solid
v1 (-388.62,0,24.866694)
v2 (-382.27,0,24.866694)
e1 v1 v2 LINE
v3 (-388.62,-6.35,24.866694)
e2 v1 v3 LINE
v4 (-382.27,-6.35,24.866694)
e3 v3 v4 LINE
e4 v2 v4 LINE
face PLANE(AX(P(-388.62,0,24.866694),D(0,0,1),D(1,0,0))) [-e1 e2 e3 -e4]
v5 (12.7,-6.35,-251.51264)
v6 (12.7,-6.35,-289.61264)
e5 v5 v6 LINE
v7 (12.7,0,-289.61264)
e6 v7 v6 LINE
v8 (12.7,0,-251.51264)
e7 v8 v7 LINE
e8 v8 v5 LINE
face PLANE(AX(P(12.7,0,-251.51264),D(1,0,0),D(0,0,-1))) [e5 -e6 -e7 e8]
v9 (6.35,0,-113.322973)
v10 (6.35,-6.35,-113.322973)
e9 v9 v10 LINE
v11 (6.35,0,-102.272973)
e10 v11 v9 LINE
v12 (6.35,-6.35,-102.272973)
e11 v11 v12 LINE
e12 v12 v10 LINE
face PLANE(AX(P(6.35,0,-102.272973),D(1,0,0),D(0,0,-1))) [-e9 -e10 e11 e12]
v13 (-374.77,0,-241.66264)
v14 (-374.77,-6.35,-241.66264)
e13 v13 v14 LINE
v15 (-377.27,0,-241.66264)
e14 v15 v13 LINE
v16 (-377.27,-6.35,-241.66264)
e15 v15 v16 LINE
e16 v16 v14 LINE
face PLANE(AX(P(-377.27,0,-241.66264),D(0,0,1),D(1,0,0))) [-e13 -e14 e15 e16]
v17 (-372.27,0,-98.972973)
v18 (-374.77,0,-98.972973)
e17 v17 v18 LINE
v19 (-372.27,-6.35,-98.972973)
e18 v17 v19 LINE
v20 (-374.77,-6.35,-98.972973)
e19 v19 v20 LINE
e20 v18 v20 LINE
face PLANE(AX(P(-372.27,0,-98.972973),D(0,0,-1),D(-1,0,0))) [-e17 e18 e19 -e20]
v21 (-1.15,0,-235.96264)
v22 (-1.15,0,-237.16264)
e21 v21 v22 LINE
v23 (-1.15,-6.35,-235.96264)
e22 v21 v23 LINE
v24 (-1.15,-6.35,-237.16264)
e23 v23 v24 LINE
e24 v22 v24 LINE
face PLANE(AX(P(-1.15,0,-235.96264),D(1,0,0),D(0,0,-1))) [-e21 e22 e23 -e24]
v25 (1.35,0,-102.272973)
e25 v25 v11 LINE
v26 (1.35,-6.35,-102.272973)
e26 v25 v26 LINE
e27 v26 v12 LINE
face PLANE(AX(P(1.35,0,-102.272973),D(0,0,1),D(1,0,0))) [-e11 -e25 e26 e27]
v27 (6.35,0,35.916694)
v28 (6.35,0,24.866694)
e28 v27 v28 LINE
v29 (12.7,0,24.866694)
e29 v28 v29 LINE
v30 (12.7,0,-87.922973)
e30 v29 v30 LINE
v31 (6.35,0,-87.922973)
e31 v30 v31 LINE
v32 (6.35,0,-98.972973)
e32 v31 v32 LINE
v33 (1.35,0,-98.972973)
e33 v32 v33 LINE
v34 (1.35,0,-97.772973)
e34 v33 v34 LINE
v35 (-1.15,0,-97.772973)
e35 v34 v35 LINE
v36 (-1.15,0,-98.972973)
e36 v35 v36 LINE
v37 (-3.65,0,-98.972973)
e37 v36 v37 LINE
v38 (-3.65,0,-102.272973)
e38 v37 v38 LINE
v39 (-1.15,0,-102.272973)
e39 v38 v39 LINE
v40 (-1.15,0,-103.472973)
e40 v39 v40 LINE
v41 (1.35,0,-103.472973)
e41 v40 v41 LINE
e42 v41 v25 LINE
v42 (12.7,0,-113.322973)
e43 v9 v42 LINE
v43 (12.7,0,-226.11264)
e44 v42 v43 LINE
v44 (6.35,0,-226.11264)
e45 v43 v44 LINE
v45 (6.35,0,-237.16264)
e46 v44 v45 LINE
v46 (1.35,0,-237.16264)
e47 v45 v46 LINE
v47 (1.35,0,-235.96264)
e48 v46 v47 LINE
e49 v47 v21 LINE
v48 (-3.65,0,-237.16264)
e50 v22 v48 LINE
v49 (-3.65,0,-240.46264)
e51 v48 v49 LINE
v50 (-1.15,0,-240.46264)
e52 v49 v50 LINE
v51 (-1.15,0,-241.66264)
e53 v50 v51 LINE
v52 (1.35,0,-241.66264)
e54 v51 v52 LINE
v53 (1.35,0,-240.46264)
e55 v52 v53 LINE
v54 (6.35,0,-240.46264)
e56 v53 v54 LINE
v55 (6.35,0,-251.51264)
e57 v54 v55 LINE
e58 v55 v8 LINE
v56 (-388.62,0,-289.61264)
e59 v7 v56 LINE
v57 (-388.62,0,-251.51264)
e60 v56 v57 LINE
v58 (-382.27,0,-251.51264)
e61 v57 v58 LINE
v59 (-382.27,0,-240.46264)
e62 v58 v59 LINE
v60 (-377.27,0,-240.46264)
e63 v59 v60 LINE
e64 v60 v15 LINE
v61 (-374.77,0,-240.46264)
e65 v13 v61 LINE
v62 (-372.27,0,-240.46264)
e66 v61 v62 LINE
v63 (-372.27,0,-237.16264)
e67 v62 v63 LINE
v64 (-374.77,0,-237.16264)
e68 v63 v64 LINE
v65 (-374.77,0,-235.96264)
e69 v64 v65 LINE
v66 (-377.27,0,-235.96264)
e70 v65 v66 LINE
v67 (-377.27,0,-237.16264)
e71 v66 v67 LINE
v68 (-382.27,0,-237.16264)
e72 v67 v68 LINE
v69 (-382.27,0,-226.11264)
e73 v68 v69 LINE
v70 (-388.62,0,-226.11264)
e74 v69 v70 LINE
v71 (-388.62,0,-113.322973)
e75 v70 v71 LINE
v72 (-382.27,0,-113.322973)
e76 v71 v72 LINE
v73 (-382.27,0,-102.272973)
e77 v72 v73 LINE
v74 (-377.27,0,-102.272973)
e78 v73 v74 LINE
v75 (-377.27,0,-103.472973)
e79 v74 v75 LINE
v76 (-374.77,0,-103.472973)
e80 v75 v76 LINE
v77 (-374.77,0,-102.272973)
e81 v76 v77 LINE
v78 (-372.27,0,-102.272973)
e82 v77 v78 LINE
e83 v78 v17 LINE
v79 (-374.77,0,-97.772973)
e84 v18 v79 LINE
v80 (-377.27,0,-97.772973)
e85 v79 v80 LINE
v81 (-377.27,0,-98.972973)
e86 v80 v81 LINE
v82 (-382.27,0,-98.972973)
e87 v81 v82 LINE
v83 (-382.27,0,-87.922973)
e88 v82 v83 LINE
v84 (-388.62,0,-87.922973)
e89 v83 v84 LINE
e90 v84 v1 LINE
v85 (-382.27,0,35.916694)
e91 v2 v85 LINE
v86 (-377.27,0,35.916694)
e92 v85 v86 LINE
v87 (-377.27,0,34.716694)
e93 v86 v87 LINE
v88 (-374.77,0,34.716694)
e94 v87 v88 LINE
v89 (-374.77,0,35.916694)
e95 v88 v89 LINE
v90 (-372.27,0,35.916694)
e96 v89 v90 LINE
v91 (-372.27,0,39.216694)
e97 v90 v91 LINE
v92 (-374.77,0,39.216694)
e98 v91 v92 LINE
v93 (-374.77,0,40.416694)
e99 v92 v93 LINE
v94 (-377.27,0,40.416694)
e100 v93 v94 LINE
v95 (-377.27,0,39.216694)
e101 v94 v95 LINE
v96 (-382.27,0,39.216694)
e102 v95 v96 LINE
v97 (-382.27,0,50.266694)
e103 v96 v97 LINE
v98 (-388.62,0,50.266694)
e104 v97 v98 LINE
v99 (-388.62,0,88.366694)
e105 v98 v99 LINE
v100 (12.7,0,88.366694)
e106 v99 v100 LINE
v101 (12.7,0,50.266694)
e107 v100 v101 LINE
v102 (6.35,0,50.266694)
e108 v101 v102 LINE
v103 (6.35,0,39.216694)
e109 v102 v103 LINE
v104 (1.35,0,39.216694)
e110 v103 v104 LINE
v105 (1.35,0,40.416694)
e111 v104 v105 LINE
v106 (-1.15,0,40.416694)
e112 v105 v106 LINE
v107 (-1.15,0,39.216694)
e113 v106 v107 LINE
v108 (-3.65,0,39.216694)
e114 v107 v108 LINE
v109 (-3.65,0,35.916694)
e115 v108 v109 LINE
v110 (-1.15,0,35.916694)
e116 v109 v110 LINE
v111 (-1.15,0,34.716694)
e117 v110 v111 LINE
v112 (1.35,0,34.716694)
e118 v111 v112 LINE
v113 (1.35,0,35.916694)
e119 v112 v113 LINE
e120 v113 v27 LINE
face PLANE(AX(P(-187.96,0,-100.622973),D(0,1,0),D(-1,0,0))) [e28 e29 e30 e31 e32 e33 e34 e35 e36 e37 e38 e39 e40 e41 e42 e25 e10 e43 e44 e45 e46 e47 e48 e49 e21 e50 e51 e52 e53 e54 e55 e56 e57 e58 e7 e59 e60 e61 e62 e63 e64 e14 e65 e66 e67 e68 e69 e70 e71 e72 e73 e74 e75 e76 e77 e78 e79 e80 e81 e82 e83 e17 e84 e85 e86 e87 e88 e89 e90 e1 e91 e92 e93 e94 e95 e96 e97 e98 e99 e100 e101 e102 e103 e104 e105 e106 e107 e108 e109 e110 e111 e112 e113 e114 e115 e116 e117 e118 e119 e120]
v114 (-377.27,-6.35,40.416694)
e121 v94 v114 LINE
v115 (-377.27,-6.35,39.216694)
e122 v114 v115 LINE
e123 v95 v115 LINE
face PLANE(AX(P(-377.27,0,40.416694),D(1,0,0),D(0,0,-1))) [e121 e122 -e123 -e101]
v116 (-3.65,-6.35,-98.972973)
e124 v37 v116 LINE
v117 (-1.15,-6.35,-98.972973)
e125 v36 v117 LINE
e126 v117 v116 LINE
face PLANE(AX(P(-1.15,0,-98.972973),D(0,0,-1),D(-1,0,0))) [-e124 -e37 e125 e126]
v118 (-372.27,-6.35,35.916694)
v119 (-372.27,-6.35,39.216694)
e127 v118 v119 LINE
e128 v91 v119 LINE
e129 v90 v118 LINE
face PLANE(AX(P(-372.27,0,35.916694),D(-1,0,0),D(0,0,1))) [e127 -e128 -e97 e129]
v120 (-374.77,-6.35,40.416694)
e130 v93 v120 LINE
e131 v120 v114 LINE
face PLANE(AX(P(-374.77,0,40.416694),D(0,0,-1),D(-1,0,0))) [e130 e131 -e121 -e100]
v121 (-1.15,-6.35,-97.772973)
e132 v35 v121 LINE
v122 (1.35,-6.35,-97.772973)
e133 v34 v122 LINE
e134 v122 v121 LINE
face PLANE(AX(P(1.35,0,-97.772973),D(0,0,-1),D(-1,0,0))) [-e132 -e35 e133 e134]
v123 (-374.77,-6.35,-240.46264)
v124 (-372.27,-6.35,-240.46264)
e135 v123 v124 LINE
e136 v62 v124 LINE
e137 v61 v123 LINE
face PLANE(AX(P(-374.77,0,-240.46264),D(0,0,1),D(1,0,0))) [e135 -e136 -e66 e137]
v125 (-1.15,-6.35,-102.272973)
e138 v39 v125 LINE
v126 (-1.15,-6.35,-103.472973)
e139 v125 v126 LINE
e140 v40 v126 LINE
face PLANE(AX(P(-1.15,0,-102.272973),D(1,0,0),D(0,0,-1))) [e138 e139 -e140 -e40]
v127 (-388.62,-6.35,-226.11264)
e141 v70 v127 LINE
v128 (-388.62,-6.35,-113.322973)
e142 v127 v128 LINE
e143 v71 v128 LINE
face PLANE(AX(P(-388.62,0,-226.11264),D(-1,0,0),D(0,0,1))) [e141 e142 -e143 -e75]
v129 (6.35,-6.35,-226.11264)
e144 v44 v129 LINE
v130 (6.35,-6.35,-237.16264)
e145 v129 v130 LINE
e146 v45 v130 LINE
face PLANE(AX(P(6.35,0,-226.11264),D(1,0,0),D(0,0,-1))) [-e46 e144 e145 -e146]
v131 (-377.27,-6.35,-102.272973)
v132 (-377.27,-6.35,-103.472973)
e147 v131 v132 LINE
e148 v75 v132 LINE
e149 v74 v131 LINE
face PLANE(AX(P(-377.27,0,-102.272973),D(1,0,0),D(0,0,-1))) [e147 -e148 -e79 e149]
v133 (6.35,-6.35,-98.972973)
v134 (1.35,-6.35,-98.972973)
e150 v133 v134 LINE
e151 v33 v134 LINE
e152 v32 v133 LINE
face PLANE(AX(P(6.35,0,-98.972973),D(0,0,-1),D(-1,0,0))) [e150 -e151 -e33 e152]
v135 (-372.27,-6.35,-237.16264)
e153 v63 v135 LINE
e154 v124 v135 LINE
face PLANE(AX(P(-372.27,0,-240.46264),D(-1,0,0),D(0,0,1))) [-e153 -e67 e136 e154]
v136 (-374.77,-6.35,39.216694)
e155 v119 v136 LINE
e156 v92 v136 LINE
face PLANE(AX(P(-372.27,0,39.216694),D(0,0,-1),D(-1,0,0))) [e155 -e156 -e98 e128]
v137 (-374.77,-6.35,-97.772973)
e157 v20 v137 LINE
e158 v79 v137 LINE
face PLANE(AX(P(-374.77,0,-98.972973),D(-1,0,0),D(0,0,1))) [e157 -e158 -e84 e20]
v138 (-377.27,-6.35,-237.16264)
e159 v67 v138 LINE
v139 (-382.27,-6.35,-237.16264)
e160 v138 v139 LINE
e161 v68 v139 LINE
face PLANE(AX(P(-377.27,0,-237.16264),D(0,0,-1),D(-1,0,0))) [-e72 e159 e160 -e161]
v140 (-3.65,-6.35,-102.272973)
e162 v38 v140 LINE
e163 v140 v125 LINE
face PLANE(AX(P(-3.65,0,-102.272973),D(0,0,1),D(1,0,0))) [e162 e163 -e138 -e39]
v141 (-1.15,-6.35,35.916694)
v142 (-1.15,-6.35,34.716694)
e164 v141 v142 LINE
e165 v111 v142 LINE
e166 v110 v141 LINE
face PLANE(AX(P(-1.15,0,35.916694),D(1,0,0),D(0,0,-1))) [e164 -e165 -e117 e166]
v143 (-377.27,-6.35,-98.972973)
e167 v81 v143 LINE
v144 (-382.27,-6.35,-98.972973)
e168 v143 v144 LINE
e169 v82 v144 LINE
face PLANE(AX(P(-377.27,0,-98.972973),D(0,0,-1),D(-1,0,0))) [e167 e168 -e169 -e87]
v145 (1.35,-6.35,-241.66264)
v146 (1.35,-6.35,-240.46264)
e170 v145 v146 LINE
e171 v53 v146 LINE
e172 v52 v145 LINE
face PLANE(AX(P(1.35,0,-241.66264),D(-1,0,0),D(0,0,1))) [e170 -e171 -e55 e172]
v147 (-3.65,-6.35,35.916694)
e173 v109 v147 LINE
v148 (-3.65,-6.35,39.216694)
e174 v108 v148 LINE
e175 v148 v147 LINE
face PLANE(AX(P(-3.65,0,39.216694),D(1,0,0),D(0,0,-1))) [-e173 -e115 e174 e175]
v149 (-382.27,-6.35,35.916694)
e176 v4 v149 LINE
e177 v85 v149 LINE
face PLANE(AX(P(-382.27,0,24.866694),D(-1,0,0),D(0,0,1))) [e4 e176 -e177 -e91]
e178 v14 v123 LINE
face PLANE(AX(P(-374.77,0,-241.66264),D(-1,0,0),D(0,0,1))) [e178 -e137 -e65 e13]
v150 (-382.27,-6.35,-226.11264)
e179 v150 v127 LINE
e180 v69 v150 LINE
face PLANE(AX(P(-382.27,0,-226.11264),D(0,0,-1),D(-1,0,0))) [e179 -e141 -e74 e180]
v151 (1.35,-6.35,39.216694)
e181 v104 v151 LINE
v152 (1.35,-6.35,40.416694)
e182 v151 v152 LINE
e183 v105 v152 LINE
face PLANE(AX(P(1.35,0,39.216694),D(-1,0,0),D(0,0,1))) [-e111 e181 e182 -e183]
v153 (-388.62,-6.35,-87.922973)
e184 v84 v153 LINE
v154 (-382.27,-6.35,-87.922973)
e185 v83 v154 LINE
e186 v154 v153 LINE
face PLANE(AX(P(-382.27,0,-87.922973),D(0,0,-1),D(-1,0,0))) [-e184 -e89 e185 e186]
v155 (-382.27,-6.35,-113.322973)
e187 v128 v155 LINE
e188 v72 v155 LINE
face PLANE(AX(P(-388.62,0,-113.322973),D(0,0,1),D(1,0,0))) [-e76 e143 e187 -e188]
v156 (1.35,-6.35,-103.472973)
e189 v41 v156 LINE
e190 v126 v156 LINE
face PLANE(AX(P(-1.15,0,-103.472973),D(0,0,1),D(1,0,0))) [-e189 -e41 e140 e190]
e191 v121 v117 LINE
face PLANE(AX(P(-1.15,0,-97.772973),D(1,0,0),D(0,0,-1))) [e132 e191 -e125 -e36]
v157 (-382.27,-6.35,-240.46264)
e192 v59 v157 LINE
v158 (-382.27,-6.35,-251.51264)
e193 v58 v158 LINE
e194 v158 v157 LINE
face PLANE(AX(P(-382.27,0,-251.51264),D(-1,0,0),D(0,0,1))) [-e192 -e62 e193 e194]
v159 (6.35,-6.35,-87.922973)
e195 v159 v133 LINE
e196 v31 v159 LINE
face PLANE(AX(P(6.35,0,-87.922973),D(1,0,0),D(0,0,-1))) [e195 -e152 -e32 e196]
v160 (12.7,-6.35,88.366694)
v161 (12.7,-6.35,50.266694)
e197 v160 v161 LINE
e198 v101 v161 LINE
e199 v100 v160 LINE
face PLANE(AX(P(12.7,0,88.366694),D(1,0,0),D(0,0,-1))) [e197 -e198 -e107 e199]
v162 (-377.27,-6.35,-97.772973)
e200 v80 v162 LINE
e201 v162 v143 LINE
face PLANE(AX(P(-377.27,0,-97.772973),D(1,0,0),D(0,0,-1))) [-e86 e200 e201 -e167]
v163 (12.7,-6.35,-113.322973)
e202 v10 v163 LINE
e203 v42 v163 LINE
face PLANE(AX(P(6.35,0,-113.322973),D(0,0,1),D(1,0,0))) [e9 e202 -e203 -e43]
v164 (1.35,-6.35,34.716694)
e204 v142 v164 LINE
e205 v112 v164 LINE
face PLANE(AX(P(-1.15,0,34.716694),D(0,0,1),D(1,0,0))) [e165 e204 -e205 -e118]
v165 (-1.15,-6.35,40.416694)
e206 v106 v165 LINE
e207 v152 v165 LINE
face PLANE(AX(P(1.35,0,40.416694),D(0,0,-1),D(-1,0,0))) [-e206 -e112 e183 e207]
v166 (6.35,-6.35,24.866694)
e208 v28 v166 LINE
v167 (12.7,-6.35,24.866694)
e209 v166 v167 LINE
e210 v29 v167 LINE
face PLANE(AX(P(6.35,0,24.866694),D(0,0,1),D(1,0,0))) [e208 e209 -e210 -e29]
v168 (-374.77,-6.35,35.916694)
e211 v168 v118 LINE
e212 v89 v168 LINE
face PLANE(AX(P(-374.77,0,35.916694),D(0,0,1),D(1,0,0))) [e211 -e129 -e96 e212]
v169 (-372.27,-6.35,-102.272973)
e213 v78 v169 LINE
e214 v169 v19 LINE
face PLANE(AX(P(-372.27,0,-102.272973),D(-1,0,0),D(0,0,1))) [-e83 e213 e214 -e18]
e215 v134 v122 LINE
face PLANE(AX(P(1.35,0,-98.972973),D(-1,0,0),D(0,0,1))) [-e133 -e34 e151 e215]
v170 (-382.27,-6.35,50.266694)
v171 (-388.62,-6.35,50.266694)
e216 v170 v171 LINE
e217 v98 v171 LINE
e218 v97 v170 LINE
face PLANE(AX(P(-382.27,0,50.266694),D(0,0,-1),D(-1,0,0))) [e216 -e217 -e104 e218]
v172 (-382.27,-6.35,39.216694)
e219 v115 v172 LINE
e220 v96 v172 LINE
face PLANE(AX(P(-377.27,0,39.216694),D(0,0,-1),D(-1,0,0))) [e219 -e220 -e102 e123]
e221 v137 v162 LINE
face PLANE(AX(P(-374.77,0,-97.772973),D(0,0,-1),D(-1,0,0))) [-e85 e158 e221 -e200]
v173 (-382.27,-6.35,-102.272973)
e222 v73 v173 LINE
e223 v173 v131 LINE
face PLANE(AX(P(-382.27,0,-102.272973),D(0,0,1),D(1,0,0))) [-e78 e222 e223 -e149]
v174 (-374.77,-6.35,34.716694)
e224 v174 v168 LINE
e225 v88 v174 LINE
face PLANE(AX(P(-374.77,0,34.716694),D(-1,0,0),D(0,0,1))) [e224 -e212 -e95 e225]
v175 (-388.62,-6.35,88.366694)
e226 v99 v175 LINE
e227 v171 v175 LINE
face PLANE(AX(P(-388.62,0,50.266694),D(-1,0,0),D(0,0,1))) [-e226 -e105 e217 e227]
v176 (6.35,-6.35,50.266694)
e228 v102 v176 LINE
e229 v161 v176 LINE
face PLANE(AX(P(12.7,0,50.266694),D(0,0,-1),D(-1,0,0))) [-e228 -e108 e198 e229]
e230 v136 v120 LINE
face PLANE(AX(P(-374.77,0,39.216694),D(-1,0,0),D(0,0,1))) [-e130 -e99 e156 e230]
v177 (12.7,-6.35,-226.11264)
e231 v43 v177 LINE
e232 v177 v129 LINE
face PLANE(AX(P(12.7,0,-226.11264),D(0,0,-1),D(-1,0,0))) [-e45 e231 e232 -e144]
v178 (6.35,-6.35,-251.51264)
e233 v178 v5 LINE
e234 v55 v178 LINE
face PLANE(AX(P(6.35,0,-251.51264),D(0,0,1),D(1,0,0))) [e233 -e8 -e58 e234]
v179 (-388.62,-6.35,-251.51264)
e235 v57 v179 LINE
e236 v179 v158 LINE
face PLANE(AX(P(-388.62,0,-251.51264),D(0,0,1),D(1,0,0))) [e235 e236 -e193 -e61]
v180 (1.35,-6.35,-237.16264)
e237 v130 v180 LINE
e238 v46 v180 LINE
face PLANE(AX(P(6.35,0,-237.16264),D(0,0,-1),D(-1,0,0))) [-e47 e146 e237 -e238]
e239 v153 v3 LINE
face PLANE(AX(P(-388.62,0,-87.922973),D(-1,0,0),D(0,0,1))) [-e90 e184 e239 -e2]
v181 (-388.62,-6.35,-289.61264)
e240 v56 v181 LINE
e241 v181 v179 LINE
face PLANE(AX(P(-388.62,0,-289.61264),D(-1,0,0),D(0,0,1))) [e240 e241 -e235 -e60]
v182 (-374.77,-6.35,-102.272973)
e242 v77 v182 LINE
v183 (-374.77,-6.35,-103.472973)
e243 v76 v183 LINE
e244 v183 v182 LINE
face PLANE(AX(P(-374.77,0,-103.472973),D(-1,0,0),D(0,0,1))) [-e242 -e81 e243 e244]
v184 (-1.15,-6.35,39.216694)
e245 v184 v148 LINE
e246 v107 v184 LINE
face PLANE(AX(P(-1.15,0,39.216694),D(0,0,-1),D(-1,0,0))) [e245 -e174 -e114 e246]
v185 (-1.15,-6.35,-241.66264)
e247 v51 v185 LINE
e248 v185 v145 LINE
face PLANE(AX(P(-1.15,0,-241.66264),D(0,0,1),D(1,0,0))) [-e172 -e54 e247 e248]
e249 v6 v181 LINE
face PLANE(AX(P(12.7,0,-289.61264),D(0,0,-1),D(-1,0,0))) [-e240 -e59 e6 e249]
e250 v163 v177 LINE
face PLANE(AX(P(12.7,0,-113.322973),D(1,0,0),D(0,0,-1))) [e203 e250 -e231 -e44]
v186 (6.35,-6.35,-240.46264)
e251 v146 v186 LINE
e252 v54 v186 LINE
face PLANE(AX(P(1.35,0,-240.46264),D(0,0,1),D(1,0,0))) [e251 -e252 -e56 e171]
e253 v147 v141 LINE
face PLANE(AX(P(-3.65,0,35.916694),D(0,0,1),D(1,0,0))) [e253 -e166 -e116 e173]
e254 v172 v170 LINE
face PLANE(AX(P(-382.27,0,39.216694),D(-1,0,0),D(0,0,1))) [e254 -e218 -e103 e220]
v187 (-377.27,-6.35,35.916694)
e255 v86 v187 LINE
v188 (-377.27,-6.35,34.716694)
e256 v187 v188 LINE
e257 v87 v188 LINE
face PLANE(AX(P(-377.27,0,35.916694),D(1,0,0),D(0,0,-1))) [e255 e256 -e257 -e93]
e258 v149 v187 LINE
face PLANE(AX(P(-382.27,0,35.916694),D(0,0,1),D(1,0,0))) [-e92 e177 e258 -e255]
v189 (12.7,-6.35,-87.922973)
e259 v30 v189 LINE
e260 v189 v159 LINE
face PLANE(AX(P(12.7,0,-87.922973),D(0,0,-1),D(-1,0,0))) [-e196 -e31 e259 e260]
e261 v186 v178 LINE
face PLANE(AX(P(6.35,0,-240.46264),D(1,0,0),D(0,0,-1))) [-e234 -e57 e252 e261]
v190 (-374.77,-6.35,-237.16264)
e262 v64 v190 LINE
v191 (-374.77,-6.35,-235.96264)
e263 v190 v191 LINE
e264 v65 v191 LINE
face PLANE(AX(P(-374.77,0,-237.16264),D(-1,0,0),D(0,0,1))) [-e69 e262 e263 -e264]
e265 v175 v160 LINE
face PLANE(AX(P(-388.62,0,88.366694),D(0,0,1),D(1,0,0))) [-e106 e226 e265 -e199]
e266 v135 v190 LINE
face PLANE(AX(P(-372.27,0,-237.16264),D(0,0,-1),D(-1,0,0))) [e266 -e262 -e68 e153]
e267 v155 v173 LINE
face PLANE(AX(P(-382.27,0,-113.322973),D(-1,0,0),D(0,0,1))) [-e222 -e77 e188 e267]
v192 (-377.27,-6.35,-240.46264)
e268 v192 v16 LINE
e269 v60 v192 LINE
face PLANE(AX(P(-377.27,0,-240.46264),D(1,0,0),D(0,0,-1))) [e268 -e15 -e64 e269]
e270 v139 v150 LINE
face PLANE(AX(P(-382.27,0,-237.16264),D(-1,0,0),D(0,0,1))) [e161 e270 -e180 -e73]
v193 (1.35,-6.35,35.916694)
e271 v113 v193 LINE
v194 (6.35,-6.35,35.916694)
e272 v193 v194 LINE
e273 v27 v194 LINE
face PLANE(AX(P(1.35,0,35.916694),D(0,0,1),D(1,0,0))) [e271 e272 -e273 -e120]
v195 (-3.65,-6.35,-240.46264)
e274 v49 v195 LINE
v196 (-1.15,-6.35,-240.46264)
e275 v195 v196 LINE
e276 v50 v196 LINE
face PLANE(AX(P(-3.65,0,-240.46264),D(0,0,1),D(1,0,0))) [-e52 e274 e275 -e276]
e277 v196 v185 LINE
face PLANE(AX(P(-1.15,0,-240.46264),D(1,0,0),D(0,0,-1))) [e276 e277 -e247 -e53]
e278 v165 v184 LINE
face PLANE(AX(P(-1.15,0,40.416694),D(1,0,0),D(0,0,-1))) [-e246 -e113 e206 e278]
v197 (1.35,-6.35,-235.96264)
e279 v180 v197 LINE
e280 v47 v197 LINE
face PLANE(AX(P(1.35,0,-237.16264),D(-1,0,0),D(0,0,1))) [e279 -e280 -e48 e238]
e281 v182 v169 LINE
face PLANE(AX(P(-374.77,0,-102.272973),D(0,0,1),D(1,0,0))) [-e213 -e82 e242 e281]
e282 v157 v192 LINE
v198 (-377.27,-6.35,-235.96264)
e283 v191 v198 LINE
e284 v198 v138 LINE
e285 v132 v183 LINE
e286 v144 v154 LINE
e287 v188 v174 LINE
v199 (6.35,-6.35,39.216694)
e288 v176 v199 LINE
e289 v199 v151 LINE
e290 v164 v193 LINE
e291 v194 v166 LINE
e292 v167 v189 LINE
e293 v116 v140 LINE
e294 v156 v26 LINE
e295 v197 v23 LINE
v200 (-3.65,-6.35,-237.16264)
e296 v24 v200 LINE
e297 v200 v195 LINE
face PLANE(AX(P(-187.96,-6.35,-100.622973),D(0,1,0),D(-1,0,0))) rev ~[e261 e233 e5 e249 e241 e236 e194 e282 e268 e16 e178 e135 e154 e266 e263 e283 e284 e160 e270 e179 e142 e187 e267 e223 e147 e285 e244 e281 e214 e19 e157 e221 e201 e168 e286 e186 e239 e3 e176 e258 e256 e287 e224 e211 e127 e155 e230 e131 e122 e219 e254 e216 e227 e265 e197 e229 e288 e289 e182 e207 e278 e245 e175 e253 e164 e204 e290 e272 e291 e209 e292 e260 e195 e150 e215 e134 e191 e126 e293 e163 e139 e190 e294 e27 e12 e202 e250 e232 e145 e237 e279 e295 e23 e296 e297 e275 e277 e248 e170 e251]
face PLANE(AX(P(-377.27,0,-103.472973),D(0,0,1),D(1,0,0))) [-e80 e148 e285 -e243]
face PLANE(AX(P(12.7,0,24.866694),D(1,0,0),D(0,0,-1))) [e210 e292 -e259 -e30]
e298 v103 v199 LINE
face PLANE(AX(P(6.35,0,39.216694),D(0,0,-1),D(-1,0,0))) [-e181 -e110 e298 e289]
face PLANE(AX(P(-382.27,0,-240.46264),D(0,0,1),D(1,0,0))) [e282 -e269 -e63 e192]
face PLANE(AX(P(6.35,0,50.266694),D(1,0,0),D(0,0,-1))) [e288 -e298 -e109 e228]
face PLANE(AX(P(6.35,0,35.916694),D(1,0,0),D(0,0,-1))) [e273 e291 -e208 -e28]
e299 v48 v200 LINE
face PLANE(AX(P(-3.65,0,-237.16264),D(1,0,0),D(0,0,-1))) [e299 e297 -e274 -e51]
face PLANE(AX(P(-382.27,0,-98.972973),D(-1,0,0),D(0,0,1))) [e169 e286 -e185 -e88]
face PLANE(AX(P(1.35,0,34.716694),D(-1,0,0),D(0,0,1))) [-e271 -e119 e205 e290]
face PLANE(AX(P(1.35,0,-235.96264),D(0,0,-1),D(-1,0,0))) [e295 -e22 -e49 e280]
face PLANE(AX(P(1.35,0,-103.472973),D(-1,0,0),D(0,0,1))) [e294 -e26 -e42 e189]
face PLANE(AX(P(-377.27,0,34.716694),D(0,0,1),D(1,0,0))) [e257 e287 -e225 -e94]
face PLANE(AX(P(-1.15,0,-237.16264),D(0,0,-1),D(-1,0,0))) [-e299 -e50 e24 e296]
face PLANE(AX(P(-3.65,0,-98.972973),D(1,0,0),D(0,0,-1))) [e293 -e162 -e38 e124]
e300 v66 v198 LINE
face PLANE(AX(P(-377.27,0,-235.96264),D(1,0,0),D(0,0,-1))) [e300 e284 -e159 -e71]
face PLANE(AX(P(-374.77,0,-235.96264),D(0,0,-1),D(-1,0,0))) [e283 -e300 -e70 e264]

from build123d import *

# Parameters (mm, degrees)
BOSS_EXTRUDE1_DEPTH = 6.35


with BuildPart() as part:
    # Sketch1 → Boss-Extrude1 (new body)
    with BuildSketch(Plane(origin=(0, 0, -215.916475579), x_dir=(-1, 0, 0), z_dir=(0, 1, 0))):
        Polygon((1.15, 250.633169195), (-1.35, 250.633169195), (-1.35, 251.833169195), (-6.35, 251.833169195), (-6.35, 240.783169195), (-12.7, 240.783169195), (-12.7, 127.993502461), (-6.35, 127.993502461), (-6.35, 116.943502461), (-1.35, 116.943502461), (-1.35, 118.143502461), (1.15, 118.143502461), (1.15, 116.943502461), (3.65, 116.943502461), (3.65, 113.643502461), (1.15, 113.643502461), (1.15, 112.443502461), (-1.35, 112.443502461), (-1.35, 113.643502461), (-6.35, 113.643502461), (-6.35, 102.593502461), (-12.7, 102.593502461), (-12.7, -10.196164273), (-6.35, -10.196164273), (-6.35, -21.246164273), (-1.35, -21.246164273), (-1.35, -20.046164273), (1.15, -20.046164273), (1.15, -21.246164273), (3.65, -21.246164273), (3.65, -24.546164273), (1.15, -24.546164273), (1.15, -25.746164273), (-1.35, -25.746164273), (-1.35, -24.546164273), (-6.35, -24.546164273), (-6.35, -35.596164273), (-12.7, -35.596164273), (-12.7, -73.696164273), (388.62, -73.696164273), (388.62, -35.596164273), (382.27, -35.596164273), (382.27, -24.546164273), (377.27, -24.546164273), (377.27, -25.746164273), (374.77, -25.746164273), (374.77, -24.546164273), (372.27, -24.546164273), (372.27, -21.246164273), (374.77, -21.246164273), (374.77, -20.046164273), (377.27, -20.046164273), (377.27, -21.246164273), (382.27, -21.246164273), (382.27, -10.196164273), (388.62, -10.196164273), (388.62, 102.593502461), (382.27, 102.593502461), (382.27, 113.643502461), (377.27, 113.643502461), (377.27, 112.443502461), (374.77, 112.443502461), (374.77, 113.643502461), (372.27, 113.643502461), (372.27, 116.943502461), (374.77, 116.943502461), (374.77, 118.143502461), (377.27, 118.143502461), (377.27, 116.943502461), (382.27, 116.943502461), (382.27, 127.993502461), (388.62, 127.993502461), (388.62, 240.783169195), (382.27, 240.783169195), (382.27, 251.833169195), (377.27, 251.833169195), (377.27, 250.633169195), (374.77, 250.633169195), (374.77, 251.833169195), (372.27, 251.833169195), (372.27, 255.133169195), (374.77, 255.133169195), (374.77, 256.333169195), (377.27, 256.333169195), (377.27, 255.133169195), (382.27, 255.133169195), (382.27, 266.183169195), (388.62, 266.183169195), (388.62, 304.283169195), (-12.7, 304.283169195), (-12.7, 266.183169195), (-6.35, 266.183169195), (-6.35, 255.133169195), (-1.35, 255.133169195), (-1.35, 256.333169195), (1.15, 256.333169195), (1.15, 255.133169195), (3.65, 255.133169195), (3.65, 251.833169195), (1.15, 251.833169195), align=None)
    extrude(amount=-BOSS_EXTRUDE1_DEPTH)


solid = part.part
